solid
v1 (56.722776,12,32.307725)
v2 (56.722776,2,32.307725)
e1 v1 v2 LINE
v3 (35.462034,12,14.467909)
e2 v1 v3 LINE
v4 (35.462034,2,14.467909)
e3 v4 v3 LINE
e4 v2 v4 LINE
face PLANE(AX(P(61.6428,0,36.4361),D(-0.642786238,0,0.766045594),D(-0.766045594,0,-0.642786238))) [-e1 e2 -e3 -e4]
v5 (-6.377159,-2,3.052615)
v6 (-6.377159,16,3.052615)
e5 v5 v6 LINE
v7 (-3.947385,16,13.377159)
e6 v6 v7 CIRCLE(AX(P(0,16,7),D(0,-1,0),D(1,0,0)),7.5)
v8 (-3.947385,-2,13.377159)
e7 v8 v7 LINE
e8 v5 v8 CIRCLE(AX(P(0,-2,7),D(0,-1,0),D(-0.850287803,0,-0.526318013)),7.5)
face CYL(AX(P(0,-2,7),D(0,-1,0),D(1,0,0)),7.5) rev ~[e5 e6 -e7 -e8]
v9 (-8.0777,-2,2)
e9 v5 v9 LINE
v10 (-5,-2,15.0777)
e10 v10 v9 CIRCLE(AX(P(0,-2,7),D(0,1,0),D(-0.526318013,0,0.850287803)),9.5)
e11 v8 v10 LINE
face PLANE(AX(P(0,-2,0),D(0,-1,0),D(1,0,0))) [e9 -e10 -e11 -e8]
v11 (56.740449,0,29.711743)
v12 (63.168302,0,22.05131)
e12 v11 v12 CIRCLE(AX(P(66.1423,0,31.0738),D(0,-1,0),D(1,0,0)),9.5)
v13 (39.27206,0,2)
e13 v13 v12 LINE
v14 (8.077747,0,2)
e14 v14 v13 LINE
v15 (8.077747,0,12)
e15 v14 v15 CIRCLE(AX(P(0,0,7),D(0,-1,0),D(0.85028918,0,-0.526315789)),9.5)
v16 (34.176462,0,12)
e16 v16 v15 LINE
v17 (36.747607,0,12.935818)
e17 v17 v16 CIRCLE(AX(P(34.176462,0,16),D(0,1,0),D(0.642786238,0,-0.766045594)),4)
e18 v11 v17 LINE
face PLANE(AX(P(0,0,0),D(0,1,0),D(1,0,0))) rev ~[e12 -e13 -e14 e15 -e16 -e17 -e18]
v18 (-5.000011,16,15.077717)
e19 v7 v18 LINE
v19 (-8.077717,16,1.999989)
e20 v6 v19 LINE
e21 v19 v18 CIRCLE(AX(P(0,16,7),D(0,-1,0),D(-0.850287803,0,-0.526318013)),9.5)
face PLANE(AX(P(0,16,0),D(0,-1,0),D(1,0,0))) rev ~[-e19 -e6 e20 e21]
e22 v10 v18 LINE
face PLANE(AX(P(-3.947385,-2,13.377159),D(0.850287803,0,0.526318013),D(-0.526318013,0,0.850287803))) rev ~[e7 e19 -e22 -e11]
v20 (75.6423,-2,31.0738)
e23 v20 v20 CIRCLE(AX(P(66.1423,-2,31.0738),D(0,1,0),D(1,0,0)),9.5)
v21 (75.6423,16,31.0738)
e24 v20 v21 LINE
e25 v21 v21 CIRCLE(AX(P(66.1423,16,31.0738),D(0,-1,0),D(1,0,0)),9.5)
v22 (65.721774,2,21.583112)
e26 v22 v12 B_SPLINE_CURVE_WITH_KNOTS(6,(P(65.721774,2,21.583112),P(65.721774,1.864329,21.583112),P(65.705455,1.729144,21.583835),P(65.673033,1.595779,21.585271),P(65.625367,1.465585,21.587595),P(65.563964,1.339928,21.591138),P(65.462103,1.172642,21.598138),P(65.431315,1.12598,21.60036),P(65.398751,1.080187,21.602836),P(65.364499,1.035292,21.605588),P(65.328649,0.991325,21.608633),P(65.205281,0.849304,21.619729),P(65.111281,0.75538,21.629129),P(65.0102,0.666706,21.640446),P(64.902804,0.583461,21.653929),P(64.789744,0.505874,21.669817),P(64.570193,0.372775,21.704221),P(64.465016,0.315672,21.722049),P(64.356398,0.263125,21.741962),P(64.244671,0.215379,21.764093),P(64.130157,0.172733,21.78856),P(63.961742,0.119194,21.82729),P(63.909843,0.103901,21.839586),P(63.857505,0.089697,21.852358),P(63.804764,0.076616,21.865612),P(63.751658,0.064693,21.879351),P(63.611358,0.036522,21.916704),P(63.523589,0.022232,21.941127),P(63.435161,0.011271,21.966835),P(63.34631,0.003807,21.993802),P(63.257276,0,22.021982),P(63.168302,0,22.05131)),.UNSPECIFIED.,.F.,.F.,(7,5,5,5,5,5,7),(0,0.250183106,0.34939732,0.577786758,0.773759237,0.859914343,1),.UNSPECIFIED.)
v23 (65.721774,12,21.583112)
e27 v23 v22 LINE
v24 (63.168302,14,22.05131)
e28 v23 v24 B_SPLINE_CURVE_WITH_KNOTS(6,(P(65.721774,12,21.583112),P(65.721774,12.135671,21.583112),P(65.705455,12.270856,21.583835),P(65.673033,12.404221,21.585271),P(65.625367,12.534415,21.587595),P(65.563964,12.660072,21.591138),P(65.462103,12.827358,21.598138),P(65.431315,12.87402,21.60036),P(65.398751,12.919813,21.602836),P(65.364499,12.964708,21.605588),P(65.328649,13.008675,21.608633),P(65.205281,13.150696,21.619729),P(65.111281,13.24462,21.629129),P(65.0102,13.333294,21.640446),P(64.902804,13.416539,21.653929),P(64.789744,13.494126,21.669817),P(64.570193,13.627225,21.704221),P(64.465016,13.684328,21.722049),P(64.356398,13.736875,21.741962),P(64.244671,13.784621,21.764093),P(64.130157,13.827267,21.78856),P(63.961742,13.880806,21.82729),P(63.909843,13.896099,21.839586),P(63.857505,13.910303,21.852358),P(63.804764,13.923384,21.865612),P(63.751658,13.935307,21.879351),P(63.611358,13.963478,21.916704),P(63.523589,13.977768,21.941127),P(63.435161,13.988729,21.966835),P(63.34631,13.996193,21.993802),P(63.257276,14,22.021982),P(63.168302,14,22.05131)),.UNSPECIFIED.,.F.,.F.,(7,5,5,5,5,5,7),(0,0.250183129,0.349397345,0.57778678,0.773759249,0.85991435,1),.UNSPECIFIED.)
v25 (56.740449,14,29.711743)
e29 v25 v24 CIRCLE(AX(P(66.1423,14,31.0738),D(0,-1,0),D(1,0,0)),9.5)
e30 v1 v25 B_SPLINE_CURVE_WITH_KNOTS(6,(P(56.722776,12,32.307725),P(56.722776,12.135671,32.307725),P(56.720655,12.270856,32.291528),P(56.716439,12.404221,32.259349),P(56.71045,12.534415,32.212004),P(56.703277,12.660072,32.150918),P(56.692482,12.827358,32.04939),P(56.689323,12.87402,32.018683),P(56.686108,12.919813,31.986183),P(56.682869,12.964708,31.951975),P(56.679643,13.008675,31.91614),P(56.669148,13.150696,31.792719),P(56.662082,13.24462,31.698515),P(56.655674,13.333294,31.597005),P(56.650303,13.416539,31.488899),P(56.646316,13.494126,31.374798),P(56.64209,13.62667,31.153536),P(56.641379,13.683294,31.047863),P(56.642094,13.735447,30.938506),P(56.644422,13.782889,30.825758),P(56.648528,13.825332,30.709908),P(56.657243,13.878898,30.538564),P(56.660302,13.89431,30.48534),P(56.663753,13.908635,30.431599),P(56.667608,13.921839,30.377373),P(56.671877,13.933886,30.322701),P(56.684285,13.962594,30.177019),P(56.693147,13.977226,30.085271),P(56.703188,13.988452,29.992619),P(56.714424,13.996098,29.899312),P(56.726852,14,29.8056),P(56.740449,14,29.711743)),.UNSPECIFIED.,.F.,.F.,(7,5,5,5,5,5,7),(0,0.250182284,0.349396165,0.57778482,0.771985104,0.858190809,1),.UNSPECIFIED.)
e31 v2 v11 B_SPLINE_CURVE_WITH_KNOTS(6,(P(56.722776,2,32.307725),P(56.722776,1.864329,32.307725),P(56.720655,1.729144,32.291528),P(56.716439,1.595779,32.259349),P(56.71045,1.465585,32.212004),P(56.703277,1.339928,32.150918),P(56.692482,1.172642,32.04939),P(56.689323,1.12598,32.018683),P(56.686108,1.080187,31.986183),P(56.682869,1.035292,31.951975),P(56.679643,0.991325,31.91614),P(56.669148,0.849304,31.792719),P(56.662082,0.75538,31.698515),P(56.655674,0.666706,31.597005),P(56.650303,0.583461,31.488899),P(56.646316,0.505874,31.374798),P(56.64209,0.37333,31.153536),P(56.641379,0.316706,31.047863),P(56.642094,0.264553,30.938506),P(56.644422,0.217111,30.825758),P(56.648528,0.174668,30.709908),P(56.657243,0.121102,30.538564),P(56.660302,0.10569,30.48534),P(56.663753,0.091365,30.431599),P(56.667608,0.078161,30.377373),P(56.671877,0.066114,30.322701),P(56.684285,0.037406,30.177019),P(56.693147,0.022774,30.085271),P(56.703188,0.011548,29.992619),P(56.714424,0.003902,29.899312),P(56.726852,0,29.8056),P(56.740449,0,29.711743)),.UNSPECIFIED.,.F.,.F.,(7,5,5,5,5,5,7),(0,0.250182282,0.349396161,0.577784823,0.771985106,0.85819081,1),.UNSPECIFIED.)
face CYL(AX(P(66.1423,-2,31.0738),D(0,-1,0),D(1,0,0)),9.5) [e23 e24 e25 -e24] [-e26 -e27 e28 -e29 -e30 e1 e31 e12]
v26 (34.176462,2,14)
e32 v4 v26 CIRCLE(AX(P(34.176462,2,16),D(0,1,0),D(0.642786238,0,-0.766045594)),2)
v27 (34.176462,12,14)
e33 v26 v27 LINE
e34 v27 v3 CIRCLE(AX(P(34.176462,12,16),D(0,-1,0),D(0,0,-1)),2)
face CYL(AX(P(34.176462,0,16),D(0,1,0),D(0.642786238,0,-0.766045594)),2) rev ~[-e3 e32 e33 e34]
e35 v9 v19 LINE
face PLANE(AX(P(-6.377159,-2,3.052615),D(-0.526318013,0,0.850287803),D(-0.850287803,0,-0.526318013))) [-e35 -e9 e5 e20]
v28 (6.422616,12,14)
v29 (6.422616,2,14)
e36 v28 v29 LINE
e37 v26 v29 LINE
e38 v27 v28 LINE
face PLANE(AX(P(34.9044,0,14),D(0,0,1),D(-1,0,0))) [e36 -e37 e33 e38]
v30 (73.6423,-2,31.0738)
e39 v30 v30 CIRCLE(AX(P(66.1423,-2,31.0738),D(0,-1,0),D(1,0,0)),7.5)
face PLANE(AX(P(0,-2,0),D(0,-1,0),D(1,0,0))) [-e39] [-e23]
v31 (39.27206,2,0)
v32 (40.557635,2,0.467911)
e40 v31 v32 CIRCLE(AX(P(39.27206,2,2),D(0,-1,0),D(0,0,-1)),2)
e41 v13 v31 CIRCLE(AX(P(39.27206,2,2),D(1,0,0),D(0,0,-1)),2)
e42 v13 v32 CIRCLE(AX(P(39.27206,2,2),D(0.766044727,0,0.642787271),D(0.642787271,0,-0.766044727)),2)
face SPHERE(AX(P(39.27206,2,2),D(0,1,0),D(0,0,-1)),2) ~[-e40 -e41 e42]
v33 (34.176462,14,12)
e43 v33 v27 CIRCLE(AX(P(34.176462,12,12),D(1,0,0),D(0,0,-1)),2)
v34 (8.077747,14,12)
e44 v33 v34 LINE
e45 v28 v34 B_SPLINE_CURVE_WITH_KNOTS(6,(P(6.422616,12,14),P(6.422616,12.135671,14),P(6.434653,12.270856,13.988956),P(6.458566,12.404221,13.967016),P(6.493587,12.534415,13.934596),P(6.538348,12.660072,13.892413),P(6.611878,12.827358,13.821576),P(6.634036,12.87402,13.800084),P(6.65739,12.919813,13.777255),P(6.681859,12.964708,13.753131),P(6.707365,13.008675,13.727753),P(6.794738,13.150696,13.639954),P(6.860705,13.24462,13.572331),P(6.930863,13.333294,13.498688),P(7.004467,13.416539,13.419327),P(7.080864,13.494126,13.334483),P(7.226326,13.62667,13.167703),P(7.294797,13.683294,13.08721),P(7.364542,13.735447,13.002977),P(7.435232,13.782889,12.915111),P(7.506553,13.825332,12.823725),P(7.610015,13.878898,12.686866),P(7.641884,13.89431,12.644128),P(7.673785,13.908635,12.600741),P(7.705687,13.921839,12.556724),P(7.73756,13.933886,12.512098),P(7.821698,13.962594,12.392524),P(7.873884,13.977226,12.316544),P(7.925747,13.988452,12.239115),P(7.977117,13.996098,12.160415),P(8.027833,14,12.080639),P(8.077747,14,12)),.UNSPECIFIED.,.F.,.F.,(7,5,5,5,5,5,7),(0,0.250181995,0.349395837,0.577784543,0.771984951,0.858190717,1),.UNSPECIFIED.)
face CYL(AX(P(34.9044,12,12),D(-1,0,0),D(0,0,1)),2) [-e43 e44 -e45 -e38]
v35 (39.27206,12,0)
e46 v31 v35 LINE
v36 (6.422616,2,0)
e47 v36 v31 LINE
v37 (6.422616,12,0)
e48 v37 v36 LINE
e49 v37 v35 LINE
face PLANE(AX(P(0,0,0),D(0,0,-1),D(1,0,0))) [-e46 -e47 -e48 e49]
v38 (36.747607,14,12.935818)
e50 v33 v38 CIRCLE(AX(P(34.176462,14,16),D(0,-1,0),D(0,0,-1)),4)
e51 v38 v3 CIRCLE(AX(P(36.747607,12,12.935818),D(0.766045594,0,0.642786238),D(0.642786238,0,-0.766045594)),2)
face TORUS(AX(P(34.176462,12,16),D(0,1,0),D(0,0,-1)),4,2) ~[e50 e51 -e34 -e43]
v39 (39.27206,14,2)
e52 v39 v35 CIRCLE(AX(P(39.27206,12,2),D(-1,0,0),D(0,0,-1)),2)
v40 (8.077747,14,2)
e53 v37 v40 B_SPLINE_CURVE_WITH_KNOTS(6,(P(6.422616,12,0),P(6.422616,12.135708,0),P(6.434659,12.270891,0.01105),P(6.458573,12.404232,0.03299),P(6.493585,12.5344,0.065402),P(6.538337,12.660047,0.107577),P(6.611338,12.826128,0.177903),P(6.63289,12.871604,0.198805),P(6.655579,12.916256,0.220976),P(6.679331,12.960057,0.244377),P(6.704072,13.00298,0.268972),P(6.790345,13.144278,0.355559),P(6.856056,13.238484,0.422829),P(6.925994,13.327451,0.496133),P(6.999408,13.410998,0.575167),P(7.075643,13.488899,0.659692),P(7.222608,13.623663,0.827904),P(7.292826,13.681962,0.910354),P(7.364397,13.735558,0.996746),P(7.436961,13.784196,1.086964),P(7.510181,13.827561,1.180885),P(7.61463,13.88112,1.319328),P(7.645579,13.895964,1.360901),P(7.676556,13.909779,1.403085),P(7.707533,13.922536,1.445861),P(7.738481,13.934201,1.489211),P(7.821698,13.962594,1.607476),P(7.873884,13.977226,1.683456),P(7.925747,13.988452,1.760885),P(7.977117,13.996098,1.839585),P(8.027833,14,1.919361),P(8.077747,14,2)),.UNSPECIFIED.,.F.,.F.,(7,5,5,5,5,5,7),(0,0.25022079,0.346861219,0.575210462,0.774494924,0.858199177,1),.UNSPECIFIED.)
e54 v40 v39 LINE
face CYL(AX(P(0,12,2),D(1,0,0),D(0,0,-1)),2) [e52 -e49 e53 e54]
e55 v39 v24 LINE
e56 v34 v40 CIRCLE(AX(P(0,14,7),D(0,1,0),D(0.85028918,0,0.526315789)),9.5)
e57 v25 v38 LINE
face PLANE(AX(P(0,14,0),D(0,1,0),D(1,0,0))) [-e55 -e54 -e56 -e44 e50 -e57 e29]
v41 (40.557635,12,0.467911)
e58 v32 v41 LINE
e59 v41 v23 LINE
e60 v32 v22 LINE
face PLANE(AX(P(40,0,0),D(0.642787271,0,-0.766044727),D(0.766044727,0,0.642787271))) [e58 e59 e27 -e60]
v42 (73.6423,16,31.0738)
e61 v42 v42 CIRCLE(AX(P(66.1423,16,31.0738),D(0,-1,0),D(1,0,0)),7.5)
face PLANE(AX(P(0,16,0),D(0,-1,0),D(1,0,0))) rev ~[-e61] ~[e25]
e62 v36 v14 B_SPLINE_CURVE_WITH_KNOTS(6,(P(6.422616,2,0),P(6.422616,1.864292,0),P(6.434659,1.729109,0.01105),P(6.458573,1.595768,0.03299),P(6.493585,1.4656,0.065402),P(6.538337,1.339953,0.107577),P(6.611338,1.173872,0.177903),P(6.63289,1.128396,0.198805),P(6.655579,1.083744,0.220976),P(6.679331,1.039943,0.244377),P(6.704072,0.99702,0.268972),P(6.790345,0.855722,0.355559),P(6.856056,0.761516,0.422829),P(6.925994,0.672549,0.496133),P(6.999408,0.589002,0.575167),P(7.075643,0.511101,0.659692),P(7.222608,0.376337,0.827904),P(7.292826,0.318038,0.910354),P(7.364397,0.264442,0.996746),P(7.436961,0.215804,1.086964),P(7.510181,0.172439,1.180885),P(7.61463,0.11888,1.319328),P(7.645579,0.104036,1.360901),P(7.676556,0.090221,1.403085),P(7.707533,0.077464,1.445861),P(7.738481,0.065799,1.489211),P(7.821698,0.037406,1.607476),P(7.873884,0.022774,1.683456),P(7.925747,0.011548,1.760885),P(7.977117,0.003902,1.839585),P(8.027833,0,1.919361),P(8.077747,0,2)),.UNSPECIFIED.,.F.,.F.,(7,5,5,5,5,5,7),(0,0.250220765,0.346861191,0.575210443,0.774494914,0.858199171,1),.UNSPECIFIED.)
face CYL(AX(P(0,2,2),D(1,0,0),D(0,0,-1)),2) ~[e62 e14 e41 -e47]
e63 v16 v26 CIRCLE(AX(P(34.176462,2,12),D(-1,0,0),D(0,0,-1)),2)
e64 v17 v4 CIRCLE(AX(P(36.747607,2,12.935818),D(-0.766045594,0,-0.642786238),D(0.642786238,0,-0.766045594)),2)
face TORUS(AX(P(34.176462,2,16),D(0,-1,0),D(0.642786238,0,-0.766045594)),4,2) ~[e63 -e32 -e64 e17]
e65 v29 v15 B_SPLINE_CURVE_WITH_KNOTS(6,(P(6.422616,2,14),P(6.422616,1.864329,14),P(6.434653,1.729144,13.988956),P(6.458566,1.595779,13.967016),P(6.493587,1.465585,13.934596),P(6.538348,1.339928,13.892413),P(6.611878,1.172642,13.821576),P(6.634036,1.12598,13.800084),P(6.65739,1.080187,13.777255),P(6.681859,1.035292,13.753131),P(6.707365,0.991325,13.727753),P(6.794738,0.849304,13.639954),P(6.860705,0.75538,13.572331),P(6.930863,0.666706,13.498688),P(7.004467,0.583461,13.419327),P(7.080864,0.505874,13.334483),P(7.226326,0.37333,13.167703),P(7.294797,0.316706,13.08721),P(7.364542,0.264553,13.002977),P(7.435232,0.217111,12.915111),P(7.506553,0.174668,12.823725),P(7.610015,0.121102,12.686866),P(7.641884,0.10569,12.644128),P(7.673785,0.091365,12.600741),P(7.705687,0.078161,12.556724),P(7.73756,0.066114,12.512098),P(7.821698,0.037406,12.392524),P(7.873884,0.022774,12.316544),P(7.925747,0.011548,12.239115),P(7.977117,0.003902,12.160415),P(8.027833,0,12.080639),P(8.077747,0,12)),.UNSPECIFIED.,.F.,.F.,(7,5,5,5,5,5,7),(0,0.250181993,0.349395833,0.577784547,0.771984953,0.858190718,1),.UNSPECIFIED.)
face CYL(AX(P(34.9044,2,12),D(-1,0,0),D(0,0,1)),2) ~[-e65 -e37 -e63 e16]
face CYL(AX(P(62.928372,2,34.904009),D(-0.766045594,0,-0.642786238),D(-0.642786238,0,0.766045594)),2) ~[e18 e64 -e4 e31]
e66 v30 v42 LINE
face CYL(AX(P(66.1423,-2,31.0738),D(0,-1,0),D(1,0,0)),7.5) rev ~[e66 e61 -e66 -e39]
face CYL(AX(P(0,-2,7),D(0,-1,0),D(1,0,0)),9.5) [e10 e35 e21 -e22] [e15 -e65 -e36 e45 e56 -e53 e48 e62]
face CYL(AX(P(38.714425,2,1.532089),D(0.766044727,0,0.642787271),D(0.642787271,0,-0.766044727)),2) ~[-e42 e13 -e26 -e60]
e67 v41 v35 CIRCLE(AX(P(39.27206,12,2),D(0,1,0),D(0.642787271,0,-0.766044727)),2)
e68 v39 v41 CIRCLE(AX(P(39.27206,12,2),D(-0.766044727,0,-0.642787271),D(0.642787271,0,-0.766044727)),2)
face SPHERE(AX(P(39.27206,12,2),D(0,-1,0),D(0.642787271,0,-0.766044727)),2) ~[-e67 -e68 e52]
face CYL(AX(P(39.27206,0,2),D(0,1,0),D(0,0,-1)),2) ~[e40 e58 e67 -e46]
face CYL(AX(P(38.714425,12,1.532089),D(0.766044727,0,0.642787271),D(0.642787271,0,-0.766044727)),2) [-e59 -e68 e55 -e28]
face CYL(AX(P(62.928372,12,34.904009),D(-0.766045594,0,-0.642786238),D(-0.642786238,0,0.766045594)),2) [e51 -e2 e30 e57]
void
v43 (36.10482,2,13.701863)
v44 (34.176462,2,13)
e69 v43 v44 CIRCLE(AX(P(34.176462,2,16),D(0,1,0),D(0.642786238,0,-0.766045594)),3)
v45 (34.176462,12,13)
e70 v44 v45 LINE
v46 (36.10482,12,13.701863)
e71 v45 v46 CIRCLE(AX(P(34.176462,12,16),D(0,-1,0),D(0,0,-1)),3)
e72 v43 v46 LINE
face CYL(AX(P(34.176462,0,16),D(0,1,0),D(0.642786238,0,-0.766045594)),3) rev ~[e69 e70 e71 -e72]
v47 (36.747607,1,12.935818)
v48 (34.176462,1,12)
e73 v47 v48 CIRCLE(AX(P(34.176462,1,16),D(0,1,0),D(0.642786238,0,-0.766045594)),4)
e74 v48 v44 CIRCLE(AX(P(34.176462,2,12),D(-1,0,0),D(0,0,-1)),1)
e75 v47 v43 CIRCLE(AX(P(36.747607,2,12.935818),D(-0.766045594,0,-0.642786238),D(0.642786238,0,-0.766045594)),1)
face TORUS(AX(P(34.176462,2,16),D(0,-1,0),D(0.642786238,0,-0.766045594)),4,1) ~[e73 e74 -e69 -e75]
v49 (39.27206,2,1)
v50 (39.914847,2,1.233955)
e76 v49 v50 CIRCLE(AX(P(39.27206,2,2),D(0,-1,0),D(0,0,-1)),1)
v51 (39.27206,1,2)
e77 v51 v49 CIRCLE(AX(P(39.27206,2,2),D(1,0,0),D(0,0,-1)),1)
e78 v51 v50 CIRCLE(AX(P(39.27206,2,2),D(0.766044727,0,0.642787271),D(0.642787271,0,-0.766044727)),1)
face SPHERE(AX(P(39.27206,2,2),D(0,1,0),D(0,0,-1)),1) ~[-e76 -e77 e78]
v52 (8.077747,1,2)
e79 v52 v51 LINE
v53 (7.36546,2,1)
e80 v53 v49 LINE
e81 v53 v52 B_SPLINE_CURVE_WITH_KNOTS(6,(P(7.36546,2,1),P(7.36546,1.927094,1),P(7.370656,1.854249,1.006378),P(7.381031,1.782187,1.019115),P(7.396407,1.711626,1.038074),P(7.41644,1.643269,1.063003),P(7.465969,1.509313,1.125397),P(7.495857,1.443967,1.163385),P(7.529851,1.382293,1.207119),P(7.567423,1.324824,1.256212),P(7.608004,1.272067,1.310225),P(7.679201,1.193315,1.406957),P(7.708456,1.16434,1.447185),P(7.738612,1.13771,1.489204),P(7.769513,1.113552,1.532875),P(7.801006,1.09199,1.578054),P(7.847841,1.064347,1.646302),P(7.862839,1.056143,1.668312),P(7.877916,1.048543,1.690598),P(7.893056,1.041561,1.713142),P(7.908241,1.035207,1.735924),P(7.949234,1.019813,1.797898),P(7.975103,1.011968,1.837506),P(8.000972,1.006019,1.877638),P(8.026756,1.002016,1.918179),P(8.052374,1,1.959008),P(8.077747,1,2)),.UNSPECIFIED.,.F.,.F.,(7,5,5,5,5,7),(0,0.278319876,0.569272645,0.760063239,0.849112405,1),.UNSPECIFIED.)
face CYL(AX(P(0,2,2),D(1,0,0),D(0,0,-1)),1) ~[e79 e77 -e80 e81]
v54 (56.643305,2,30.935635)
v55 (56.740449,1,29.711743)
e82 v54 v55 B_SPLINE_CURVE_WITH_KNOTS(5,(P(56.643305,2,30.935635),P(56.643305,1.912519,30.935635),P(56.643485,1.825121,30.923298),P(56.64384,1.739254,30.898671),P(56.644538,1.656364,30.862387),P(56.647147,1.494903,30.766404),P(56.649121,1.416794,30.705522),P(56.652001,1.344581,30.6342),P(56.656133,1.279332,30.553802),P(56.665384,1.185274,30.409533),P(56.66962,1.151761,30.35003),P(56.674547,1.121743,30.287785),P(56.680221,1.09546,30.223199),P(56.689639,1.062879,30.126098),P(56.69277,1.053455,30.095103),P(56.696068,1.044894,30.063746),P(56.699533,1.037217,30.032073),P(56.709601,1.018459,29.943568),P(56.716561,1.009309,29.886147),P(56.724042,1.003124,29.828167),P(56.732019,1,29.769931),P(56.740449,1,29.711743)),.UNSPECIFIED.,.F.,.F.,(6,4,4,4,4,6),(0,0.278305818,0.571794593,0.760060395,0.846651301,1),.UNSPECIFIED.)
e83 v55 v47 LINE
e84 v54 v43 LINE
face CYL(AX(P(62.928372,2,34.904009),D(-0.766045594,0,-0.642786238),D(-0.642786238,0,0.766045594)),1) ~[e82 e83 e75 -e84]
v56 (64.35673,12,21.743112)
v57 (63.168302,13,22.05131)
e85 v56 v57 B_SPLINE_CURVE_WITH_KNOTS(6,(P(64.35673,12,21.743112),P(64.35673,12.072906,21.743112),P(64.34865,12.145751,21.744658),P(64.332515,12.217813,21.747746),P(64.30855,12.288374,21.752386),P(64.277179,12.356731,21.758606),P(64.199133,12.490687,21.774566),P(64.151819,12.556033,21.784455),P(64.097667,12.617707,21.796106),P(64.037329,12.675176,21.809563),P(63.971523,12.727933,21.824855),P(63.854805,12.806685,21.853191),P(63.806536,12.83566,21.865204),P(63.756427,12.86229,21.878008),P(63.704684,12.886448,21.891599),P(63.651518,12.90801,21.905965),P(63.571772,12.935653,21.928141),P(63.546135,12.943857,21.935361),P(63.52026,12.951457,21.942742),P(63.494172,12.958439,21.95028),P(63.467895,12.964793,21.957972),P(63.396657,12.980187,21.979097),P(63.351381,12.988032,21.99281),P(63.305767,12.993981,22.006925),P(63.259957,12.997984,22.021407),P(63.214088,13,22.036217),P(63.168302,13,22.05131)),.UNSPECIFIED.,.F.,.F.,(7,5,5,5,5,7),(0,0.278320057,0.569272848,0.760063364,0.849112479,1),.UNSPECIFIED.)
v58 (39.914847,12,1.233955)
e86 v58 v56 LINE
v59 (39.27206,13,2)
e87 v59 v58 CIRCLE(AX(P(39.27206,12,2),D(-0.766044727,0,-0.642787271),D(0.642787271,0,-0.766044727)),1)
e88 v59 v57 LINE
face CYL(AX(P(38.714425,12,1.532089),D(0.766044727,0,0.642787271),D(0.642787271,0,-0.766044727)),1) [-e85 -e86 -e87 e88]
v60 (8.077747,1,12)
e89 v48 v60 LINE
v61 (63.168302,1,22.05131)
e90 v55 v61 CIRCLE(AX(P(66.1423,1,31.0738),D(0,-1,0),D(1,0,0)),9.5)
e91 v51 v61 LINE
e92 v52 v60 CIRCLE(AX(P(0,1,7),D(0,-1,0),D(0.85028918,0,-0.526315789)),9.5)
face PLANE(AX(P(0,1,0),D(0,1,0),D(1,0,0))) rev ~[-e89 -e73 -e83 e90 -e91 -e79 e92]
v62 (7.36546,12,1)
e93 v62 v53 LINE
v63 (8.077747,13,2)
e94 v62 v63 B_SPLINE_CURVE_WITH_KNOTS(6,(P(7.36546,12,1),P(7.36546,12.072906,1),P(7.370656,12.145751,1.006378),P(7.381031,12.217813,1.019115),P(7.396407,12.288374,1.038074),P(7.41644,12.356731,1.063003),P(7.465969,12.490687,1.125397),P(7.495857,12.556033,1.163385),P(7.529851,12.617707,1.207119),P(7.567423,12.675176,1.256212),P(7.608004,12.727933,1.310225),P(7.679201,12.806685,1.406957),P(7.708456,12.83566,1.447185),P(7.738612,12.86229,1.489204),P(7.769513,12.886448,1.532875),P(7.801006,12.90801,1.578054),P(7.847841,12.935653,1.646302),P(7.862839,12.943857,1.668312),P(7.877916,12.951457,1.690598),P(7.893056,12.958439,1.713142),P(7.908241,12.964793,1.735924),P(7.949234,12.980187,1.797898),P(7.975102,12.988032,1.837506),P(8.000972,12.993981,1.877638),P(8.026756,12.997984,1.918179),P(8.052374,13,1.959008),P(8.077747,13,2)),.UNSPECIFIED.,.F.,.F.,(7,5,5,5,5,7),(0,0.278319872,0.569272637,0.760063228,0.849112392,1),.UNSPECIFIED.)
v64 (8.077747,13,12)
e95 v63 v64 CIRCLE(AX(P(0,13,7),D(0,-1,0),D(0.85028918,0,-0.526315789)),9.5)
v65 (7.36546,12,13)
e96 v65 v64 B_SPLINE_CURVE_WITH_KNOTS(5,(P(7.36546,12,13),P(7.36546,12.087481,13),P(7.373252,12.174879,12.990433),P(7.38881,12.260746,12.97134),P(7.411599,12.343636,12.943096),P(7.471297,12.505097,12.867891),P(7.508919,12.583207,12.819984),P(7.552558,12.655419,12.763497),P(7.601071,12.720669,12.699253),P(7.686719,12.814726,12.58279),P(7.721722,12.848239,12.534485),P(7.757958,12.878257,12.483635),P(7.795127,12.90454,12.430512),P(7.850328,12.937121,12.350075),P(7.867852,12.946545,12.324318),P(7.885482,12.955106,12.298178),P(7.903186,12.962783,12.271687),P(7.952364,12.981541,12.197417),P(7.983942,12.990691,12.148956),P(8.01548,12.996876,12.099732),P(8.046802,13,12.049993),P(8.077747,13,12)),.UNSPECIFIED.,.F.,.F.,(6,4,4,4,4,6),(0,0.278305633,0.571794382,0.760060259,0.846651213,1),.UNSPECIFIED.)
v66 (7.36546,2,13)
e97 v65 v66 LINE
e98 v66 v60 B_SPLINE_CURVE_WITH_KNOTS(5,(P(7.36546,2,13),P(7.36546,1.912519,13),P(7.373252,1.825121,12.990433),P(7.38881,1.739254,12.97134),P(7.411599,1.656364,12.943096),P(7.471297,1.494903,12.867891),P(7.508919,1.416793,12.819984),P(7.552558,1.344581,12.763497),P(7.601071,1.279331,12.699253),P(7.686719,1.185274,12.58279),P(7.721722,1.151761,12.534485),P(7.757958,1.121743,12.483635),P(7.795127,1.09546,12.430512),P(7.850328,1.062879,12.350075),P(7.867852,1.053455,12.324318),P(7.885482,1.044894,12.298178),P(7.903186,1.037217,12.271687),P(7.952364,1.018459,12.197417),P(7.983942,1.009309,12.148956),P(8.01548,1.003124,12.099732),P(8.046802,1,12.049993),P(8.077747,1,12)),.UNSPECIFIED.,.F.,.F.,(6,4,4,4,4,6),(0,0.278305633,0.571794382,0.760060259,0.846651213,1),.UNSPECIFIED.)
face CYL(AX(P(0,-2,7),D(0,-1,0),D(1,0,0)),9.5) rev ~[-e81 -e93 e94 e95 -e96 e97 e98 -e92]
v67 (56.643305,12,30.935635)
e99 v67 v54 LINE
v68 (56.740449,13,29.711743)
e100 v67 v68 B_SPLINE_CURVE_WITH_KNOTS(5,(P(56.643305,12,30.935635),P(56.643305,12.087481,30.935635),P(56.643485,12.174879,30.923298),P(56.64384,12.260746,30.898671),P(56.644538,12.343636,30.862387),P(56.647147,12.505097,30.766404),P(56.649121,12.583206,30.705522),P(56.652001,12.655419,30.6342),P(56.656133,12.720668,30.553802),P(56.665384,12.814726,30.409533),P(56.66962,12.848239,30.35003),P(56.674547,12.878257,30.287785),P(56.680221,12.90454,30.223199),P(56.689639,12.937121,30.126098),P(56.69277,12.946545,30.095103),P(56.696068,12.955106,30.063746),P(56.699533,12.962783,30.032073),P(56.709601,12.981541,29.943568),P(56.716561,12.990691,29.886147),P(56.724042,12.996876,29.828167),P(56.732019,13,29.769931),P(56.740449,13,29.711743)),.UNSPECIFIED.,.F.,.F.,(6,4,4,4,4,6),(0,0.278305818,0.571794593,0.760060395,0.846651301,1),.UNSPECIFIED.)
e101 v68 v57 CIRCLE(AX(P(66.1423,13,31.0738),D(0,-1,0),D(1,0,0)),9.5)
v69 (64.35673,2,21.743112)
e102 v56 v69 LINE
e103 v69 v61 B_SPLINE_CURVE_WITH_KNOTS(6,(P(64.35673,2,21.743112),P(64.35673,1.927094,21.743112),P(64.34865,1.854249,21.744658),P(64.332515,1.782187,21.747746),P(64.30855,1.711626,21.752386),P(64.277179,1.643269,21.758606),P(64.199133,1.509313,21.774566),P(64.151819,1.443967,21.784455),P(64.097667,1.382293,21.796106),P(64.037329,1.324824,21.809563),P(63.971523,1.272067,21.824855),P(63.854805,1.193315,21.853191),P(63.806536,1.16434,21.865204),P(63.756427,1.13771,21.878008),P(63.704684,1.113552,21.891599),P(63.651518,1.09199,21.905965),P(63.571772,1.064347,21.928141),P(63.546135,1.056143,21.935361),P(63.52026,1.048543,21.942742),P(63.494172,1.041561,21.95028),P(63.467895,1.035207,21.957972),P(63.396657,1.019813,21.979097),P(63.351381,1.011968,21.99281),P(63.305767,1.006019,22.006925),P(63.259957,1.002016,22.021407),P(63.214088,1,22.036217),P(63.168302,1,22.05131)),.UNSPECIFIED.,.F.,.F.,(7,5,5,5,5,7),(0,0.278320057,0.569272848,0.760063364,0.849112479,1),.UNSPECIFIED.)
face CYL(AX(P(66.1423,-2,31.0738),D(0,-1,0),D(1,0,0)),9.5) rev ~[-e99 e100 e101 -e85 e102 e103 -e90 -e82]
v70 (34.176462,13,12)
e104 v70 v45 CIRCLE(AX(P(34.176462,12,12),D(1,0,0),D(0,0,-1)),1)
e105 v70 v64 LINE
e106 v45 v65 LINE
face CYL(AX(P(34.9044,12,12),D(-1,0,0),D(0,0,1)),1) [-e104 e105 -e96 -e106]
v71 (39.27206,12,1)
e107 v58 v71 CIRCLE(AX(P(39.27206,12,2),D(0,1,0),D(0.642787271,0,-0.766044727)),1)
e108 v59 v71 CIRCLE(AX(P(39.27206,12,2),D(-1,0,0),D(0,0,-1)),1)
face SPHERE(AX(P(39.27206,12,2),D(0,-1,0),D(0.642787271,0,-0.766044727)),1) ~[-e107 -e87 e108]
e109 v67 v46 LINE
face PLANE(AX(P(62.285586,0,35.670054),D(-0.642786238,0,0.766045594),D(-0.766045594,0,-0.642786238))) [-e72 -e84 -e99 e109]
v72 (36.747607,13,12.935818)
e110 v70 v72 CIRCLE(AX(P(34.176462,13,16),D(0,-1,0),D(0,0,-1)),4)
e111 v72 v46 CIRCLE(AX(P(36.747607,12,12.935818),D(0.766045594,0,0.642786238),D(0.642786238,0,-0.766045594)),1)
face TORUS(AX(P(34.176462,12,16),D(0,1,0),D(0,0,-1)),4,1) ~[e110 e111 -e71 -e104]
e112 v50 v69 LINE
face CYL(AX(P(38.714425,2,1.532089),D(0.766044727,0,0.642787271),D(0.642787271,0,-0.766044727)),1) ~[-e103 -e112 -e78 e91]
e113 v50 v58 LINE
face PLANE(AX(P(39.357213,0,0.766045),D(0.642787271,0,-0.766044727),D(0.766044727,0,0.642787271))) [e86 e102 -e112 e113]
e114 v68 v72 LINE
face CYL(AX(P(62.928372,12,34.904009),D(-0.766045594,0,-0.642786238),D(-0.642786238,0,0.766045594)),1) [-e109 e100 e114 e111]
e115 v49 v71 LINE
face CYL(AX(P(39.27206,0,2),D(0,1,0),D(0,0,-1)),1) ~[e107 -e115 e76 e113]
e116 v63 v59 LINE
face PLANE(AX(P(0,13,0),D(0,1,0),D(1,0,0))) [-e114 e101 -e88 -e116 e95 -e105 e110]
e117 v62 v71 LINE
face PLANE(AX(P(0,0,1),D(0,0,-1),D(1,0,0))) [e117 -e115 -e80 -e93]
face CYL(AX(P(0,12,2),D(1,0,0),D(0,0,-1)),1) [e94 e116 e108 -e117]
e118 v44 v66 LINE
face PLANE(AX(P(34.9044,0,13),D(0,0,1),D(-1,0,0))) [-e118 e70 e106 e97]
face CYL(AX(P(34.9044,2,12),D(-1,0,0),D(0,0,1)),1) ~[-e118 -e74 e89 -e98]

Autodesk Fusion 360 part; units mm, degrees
sketch "Sketch1" plane through (0, 0, 0) normal (0, 1, 0) x (1, 0, 0)
  line L0 (0, 0) -> (40, 0)
  line L1 (34.9044, -14) -> (0, -14)
  line L2 (0, -14) -> (0, 0)
  line L3 (61.6428, -36.4361) -> (34.9044, -14)
  line L4 (70.6418, -25.7115) -> (61.6428, -36.4361)
  line L5 (40, 0) -> (70.6418, -25.7115)
  dimension "d1" = 40
  dimension "d2" = 14
  dimension "d3" = 14
  dimension "d4" = 40
  dimension "d5" = 140
extrude "Extrude1" add sketch "Sketch1" along normal blind 14
fillet "Fillet1" radius 2 10 edges at (17.4522, 0, 14) (20, 0, 0) (34.9044, 7, 14) (48.2736, 0, 25.2181) (17.4522, 14, 14) (55.3209, 0, 12.8558) (48.2736, 14, 25.2181) (55.3209, 14, 12.8558) (20, 14, 0) (40, 7, 0)
shell "Shell1" thickness 1 removed faces 2 at (0, 5.3333, 9.3333) at (66.7851, 5.3333, 30.3078)
sketch "Sketch2" plane through (0, 0, 0) normal (0, -1, 0) x (1, 0, 0)
  line L0 (39.2721, 2) -> (69.3562, 27.2436)
  line L1 (69.3562, 27.2436) -> (62.9283, 34.904)
  line L2 (62.9283, 34.904) -> (36.7476, 12.9358)
  arc A0 (34.1765, 12) -> (36.7476, 12.9358) centre (34.1765, 16) ccw
  line L3 (34.1765, 12) -> (0, 12)
  line L4 (0, 12) -> (0, 2)
  line L5 (0, 2) -> (39.2721, 2)
  circle A1 centre (0, 7) radius 9.5
  circle A2 centre (66.1423, 31.0738) radius 9.5
  dimension "d11" = 19
  dimension "d12" = 19
extrude "Extrude2" add sketch "Sketch2" along normal blind -16 and the other way blind -2 contours L0 L1 L2 A2 | L0 L1 L2 A2 | L3 L4 L5 A1 | L3 L4 L5 A1
sketch "Sketch3" plane through (0, -2, 0) normal (0, -1, 0) x (1, 0, 0)
  circle A0 centre (66.1423, 31.0738) radius 9.5
  circle A1 centre (66.1423, 31.0738) radius 7.5
  dimension "d17" = -2
extrude "Extrude3" cut sketch "Sketch3" against normal through all contours A1
sketch "Sketch4" plane through (0, -2, 0) normal (0, -1, 0) x (1, 0, 0)
  circle A0 centre (0, 7) radius 9.5
  line L0 (0, 7) -> (-5, 15.0777)
  circle A1 centre (0, 7) radius 7.5
  line L1 (0, 7) -> (-8.0777, 2)
  line L2 (0, 7) -> (0, 10.0999)
  line L3 (0, 10.0999) -> (0, 16.5)
  dimension "d19" = -2
  dimension "d20" = 90
  dimension "d21" = 5
extrude "Extrude4" cut sketch "Sketch4" against normal blind 40 contours A0 L0 A1 L1 | L0 A1 L2 L3 | A1 L1 L2 L3 | L0 A1 L1
